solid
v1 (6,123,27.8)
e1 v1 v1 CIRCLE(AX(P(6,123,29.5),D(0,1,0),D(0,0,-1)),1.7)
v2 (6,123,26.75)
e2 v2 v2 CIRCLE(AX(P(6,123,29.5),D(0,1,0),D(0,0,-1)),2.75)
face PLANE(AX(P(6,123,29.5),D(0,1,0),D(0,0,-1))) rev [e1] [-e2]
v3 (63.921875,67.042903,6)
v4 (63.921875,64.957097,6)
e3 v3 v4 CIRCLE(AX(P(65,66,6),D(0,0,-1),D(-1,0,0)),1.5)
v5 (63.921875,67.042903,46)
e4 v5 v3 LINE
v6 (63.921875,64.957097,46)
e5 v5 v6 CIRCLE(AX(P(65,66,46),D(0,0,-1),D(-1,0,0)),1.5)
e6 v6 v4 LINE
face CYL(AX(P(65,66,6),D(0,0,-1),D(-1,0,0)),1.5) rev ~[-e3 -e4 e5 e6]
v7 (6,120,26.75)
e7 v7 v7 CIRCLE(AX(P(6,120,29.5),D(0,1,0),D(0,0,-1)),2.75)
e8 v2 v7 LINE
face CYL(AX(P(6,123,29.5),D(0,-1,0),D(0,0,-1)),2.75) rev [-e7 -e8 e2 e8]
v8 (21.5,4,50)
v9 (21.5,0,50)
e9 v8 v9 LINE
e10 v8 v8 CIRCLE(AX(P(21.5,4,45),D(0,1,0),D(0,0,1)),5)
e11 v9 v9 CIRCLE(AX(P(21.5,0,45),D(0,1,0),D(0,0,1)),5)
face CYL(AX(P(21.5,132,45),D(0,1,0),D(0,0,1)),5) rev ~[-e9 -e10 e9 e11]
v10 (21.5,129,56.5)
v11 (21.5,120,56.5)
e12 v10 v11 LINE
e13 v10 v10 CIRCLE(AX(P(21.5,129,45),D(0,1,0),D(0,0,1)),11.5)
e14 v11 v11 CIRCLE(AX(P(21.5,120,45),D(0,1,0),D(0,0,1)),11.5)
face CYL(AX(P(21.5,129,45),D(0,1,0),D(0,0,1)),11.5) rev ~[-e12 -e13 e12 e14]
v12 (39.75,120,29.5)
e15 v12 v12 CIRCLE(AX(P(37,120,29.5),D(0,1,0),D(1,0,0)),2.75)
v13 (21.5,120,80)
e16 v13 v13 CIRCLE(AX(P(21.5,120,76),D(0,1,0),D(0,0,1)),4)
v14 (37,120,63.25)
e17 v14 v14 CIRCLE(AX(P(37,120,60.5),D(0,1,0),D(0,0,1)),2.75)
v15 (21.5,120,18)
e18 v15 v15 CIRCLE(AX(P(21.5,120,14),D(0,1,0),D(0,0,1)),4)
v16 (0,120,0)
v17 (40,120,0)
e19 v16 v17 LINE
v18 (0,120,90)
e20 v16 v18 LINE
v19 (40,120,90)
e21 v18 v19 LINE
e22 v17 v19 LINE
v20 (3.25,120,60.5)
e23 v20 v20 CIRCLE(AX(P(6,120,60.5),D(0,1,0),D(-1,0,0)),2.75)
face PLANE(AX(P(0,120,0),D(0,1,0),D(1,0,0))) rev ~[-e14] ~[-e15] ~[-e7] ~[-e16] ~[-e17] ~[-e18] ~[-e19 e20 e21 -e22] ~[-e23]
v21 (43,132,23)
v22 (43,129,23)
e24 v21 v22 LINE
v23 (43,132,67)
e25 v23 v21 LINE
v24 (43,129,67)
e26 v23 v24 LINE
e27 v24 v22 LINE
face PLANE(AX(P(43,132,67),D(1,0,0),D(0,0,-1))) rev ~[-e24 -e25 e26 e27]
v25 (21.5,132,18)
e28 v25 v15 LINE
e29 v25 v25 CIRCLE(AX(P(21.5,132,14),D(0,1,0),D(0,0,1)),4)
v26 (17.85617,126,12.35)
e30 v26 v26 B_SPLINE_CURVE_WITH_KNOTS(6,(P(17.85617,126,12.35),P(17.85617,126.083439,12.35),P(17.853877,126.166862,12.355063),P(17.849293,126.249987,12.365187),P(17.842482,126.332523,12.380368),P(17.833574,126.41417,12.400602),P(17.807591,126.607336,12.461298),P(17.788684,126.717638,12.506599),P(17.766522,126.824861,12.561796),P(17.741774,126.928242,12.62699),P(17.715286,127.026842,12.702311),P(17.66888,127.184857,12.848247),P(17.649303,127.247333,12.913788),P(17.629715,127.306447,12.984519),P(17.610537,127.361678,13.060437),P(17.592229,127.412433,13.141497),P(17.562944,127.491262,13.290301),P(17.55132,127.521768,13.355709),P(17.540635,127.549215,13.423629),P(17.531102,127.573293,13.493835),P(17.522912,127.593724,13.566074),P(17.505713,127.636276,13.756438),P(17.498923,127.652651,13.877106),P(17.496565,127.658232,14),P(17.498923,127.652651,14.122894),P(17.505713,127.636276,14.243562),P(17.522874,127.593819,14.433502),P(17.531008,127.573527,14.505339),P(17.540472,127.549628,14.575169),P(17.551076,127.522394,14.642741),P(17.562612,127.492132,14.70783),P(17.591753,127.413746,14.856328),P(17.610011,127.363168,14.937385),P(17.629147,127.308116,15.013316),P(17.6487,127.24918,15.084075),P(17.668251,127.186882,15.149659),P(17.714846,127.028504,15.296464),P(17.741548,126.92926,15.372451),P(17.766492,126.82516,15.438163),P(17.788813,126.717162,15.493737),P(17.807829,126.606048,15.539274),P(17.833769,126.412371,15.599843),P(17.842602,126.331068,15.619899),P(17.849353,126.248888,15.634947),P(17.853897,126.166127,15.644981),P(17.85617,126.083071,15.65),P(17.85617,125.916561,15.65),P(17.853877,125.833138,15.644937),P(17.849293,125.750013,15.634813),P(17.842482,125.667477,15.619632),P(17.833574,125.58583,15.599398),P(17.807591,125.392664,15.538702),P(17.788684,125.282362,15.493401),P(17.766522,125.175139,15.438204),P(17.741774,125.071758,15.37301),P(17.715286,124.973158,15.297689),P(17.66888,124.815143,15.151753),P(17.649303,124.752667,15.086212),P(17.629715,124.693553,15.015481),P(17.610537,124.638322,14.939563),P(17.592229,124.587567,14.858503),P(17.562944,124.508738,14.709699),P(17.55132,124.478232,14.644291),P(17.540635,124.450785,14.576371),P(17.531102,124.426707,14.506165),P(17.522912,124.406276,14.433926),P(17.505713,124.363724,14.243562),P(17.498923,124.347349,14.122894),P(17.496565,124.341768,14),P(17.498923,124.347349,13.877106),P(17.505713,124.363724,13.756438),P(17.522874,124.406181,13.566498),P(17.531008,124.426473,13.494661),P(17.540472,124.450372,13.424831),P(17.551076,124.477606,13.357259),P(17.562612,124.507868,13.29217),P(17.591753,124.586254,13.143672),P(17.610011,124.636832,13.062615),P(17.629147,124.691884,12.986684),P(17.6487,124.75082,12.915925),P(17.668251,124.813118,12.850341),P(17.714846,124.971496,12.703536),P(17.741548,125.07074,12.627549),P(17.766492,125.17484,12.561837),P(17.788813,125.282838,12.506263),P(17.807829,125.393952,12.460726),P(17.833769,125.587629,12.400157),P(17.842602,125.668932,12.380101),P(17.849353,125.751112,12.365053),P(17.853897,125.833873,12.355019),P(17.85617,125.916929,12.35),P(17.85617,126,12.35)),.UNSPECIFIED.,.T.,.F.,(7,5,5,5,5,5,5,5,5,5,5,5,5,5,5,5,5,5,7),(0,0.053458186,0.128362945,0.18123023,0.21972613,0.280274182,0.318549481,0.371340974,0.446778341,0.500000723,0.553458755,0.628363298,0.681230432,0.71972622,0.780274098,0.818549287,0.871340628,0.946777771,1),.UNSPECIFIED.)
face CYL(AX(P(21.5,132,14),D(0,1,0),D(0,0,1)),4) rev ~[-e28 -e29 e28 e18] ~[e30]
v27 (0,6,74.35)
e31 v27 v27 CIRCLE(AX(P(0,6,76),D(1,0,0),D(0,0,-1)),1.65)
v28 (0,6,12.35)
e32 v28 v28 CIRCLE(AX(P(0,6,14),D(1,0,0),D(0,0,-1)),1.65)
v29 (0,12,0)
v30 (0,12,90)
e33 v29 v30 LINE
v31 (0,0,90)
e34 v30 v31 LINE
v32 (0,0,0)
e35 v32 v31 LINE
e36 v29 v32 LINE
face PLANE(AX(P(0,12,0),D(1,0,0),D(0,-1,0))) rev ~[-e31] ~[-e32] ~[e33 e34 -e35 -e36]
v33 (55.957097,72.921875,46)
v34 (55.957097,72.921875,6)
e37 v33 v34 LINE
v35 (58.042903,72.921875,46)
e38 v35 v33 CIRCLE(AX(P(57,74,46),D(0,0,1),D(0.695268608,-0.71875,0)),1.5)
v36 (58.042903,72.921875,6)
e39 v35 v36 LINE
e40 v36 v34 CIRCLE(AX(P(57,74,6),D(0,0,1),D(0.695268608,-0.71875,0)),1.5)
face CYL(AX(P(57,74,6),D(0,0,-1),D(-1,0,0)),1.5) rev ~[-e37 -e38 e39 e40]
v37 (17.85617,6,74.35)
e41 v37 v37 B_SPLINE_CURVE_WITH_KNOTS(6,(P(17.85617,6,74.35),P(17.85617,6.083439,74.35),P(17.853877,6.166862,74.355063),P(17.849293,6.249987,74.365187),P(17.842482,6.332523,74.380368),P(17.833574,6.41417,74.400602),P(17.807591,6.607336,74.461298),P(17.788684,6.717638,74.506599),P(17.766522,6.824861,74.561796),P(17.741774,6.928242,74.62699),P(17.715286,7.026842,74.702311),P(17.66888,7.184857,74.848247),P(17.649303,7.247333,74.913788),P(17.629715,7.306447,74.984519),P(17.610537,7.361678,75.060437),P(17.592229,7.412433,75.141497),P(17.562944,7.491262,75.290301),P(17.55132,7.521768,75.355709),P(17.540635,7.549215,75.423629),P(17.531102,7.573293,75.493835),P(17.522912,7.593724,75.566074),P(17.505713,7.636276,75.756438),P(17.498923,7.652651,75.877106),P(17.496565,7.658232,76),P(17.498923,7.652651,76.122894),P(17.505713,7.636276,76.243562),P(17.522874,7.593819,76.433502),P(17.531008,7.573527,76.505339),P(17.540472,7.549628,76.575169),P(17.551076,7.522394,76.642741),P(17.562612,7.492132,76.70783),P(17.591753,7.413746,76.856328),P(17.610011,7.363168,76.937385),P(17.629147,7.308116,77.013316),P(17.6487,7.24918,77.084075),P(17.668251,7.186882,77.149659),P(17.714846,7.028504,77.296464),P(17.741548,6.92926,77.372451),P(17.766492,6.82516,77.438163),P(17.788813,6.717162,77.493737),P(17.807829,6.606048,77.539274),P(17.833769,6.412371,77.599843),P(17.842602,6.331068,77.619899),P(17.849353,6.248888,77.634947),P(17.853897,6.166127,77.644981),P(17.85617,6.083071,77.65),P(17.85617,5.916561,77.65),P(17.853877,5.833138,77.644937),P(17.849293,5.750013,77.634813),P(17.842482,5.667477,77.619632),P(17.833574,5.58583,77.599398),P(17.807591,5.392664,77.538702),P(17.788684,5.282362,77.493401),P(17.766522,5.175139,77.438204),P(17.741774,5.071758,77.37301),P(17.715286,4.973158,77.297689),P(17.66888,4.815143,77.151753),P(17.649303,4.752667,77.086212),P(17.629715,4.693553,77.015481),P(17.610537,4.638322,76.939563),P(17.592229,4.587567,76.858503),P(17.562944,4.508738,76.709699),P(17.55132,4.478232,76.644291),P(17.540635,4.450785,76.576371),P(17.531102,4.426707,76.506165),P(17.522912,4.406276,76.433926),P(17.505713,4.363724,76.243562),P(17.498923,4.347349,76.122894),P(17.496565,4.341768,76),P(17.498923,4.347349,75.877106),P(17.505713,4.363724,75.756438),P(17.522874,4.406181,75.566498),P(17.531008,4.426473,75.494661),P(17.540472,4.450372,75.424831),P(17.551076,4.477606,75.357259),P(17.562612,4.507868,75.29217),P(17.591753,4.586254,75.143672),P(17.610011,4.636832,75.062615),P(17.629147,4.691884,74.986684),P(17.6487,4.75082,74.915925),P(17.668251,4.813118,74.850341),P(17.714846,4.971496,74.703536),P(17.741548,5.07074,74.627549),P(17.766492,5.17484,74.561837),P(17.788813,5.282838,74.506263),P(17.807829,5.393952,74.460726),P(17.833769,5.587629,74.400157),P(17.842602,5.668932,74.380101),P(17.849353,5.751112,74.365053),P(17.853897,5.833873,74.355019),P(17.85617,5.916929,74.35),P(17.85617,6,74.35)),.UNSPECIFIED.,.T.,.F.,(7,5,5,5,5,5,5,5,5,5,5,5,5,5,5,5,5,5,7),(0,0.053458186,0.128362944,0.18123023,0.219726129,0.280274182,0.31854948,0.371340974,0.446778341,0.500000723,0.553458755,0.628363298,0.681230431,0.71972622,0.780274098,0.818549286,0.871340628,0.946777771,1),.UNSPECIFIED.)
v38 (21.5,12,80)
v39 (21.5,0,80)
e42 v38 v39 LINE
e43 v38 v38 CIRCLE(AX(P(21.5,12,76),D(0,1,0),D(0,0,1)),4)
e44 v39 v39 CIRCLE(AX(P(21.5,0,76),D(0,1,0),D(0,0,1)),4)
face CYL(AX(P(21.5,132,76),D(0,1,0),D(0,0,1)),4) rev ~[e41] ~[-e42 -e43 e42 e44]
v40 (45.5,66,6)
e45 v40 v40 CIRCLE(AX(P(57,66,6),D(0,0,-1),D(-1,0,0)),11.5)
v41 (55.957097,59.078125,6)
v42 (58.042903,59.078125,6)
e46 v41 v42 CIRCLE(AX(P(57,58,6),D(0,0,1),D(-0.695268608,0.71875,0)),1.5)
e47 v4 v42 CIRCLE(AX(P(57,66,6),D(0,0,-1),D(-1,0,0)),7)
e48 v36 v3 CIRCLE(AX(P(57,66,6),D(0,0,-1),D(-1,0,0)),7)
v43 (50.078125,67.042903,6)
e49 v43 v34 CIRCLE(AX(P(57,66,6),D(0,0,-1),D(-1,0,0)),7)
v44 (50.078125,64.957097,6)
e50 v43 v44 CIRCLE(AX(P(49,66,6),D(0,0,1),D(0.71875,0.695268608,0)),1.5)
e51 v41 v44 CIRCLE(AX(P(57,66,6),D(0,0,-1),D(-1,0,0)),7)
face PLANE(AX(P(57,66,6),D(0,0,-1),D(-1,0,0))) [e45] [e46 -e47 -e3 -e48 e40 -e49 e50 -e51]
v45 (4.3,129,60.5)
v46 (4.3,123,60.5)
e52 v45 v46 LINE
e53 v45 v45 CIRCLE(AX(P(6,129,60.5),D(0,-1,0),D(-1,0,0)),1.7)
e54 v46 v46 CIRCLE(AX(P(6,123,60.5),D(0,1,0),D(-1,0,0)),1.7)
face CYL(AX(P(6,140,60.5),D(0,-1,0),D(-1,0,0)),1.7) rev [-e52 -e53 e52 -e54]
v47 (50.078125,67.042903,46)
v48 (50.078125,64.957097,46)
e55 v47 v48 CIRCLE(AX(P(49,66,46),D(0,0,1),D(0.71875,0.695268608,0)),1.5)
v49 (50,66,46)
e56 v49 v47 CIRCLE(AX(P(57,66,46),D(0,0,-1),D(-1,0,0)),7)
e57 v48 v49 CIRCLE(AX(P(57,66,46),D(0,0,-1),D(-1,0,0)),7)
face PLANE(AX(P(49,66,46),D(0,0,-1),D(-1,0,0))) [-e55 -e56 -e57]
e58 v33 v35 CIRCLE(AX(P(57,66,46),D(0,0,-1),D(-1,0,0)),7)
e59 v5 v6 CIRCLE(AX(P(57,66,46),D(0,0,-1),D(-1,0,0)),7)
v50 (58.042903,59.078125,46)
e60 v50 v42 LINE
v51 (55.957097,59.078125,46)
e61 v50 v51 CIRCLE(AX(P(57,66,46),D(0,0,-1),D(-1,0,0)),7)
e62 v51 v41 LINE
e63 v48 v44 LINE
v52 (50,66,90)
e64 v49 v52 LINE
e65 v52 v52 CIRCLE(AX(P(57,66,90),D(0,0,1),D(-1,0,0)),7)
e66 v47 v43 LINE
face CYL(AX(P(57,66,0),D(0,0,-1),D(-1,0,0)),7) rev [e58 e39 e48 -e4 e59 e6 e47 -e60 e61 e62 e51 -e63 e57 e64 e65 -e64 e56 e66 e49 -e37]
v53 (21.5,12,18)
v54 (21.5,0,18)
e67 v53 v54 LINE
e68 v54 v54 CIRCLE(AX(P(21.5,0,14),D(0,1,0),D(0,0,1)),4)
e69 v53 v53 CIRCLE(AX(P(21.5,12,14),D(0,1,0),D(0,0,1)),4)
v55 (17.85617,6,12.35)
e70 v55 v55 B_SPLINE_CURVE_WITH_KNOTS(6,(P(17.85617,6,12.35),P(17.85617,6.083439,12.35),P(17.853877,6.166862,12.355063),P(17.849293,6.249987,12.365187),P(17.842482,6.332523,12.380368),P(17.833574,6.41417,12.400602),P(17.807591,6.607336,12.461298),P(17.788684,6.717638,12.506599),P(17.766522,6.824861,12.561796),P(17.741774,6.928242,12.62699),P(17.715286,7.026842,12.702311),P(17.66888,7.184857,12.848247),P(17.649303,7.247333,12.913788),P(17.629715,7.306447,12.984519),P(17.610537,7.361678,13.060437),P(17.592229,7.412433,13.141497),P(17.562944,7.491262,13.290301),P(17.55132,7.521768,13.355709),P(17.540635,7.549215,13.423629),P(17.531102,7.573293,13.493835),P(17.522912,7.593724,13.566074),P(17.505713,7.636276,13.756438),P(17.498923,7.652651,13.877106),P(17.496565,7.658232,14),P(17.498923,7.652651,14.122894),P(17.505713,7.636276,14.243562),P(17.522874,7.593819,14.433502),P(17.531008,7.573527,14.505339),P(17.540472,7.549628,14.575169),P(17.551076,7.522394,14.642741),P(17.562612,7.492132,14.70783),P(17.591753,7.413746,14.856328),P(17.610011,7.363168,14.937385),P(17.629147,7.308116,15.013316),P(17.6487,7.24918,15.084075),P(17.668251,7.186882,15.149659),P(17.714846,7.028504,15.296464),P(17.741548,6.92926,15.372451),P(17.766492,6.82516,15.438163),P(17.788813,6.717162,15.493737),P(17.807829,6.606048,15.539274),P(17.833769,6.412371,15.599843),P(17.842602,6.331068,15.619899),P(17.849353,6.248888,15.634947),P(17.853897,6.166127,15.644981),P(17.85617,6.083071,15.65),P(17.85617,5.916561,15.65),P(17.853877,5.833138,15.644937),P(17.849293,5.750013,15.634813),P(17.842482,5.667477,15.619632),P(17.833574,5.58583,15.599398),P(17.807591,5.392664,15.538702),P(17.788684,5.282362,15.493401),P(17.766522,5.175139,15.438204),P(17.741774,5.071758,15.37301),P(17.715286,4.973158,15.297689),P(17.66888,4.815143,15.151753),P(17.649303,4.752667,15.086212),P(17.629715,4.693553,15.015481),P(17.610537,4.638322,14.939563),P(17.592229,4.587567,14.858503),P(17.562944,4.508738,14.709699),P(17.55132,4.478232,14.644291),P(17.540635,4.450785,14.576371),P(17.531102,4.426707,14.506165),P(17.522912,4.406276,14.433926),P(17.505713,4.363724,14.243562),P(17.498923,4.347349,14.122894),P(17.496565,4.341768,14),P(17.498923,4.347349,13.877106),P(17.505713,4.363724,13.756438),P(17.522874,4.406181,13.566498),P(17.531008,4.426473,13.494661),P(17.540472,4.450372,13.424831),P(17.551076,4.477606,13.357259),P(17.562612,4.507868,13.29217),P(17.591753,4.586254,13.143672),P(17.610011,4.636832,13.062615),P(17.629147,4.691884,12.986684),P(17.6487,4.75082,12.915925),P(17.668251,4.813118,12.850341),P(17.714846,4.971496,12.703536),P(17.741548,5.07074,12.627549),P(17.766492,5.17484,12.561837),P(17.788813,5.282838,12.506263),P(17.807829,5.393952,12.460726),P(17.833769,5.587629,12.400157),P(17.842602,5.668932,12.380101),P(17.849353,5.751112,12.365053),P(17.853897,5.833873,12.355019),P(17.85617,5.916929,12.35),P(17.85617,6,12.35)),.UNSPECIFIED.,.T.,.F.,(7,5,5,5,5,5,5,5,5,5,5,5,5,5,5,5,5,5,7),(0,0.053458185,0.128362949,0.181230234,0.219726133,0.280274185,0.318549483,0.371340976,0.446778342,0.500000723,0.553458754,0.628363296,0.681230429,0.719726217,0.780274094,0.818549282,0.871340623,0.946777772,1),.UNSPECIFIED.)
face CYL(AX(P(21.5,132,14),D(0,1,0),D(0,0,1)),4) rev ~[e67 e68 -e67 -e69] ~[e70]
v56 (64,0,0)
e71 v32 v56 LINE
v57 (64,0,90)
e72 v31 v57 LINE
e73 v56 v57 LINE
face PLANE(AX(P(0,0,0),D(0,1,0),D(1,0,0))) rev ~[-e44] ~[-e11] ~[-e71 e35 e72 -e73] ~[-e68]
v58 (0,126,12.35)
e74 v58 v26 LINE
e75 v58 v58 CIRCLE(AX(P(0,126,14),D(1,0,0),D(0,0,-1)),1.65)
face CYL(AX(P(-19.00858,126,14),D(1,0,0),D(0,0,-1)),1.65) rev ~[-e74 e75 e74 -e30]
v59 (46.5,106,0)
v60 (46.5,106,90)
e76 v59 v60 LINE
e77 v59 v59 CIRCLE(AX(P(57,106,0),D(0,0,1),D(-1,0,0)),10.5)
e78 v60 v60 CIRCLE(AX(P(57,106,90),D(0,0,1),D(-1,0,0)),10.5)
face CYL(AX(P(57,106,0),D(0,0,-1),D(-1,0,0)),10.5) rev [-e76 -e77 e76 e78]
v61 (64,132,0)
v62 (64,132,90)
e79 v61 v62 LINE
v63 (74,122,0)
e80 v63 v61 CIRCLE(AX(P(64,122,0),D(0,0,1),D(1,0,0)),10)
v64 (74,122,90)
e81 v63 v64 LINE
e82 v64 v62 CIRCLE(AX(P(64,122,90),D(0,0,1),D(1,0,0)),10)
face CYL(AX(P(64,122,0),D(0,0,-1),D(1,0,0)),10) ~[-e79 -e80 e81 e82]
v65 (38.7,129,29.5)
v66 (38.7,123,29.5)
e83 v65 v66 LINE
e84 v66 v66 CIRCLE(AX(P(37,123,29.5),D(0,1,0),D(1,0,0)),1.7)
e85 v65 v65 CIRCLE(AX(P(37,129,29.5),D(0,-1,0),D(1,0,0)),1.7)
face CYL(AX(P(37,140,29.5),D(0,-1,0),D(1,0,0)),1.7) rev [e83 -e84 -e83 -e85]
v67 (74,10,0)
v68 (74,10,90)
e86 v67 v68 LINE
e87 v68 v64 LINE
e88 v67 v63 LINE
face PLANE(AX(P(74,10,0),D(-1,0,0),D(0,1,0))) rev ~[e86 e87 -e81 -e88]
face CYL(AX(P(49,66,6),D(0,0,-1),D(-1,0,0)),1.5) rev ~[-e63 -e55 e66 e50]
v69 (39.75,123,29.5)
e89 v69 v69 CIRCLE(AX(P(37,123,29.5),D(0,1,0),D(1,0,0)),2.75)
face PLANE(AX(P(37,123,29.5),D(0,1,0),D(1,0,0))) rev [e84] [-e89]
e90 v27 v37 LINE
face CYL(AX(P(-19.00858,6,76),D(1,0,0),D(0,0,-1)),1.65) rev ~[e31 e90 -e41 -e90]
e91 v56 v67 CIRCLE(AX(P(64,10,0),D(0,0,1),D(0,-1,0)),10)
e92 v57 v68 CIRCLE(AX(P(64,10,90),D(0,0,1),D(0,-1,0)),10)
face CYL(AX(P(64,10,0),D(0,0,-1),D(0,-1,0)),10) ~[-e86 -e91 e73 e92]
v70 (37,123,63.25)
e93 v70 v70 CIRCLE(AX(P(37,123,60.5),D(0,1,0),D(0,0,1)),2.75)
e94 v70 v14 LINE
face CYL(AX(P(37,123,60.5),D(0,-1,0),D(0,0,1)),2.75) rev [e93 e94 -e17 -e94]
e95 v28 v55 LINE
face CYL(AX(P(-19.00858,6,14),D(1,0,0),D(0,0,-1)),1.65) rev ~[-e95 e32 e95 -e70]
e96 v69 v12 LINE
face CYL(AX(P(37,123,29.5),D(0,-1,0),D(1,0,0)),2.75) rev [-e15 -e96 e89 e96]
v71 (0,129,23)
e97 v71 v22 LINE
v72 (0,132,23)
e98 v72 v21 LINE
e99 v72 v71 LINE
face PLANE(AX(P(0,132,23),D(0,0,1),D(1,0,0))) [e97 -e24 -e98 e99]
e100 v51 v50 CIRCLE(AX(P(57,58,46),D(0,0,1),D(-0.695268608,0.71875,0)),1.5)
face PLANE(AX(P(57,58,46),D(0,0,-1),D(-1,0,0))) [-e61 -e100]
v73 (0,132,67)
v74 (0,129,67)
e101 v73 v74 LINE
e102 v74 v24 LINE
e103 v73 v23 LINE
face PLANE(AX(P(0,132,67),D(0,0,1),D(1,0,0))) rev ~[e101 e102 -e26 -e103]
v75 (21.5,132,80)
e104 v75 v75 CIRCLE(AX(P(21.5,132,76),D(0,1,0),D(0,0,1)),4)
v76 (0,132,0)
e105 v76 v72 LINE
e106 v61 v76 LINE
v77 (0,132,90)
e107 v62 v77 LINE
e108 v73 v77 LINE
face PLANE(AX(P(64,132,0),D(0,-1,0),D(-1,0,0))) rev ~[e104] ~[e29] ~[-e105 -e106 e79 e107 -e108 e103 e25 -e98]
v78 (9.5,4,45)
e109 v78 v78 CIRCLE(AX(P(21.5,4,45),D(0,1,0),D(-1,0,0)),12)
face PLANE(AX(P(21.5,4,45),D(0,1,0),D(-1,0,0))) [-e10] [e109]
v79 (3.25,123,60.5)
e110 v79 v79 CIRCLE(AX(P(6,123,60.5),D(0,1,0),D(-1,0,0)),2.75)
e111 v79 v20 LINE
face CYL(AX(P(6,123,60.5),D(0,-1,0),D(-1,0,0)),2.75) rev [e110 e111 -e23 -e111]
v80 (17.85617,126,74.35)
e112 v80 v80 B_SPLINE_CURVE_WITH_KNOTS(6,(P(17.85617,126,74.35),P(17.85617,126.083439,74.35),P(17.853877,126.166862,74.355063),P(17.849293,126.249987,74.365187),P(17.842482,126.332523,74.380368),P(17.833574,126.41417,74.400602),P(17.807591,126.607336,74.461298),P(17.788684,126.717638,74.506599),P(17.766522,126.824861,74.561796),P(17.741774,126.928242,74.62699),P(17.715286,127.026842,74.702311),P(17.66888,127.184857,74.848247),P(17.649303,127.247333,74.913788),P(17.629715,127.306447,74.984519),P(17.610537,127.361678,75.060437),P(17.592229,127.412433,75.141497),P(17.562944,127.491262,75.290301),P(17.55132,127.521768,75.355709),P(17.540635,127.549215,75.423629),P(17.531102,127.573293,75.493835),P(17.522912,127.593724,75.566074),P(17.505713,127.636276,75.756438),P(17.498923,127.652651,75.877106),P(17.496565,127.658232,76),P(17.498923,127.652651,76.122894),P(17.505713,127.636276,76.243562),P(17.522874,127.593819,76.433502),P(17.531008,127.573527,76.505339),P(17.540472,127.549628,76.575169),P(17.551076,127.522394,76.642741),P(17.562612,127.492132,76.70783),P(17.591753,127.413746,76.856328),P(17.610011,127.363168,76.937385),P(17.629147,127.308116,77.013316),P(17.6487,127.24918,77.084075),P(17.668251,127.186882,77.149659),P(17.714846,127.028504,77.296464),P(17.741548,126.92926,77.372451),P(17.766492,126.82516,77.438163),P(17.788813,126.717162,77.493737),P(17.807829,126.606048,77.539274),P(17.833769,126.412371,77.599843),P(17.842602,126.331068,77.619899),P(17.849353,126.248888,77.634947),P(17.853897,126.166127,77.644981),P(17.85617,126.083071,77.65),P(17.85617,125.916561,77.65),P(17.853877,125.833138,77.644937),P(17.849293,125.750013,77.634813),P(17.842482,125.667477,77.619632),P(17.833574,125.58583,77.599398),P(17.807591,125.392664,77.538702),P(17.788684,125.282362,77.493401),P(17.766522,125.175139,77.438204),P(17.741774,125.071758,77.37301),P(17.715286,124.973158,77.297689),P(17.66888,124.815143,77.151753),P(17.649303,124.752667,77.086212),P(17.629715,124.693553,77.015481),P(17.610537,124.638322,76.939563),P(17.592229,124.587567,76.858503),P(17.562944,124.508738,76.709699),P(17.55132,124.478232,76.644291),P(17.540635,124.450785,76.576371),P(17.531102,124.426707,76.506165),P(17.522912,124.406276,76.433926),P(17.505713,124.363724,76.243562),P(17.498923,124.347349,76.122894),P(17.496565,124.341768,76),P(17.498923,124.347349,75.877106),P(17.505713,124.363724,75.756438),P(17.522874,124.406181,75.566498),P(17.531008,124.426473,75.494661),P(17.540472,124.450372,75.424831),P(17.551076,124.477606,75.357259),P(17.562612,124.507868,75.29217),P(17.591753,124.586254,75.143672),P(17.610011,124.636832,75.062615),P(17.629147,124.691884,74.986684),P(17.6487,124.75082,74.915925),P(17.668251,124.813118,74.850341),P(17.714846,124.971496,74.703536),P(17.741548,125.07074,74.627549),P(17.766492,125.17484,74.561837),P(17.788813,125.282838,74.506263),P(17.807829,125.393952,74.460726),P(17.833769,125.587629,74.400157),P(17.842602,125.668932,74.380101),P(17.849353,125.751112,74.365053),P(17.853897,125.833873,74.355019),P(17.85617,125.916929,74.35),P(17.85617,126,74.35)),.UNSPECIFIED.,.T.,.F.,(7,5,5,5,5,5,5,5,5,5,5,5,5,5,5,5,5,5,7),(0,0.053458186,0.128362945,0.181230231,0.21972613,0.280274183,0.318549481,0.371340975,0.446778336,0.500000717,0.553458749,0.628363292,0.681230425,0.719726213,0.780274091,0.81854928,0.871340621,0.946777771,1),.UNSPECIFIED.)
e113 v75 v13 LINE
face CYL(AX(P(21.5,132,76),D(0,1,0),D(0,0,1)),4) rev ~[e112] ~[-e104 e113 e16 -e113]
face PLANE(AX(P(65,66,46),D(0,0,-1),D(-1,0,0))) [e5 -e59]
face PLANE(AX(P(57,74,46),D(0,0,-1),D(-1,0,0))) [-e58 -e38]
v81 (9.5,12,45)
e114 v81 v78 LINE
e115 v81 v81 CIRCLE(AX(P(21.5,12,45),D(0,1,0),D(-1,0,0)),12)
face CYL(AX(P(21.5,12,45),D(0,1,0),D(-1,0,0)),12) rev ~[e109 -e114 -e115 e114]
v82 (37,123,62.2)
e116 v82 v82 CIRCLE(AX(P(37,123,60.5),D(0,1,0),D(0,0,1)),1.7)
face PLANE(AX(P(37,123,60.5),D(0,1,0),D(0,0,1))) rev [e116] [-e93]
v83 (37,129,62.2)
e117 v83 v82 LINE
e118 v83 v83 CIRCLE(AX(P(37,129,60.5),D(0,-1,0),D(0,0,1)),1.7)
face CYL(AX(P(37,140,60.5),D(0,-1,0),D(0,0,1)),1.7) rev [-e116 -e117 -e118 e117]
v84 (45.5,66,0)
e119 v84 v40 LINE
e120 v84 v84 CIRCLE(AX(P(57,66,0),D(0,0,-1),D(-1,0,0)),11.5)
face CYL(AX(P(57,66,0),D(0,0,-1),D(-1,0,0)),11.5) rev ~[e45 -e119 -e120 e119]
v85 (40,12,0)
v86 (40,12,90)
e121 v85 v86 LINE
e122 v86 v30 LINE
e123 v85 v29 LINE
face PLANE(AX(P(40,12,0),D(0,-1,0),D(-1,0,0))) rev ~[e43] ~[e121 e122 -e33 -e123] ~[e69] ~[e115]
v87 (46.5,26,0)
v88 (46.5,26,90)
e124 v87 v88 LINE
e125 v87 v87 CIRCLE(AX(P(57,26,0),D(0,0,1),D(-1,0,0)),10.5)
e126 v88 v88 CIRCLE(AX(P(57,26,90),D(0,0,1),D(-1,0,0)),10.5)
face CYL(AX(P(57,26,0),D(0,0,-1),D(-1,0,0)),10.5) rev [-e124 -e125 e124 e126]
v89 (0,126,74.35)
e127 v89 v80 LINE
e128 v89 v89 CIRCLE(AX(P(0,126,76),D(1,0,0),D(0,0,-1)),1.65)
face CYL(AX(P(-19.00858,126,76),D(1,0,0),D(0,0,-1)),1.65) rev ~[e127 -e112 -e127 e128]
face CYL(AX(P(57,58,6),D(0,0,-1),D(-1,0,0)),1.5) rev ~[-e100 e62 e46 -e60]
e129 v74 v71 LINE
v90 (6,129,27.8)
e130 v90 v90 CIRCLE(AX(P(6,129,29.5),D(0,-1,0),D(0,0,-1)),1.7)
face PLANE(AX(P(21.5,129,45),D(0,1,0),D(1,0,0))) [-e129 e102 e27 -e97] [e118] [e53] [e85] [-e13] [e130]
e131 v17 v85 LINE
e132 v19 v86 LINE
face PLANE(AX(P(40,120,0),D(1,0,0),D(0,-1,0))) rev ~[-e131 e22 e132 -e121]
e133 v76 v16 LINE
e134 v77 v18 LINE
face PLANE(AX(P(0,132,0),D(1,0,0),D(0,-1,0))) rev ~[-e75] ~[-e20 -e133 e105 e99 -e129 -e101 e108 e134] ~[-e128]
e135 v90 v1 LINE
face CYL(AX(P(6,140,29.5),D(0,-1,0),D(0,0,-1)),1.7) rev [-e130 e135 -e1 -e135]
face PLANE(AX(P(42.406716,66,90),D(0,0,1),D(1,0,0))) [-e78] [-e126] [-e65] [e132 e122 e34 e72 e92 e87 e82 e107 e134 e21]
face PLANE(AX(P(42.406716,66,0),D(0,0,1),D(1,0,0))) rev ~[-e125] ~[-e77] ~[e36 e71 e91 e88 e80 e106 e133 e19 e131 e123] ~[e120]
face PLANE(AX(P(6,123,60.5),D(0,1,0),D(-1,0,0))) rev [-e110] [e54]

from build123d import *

# Parameters (mm, degrees)
SKETCH1_R             = 10.5
SKETCH1_R_2           = 7
BOSS_EXTRUDE1_DEPTH   = 90
SKETCH2_R             = 11.5
CUT_EXTRUDE1_DEPTH    = 6
SKETCH3_R             = 1.5
CUT_EXTRUDE2_DEPTH    = 40
SKETCH4_W             = 43
SKETCH4_H             = 44
CUT_EXTRUDE3_DEPTH    = 3
SKETCH5_R             = 11.5
CUT_EXTRUDE4_DEPTH    = 9
CIRPATTERN1_COUNT     = 4
SKETCH9_R             = 4
SKETCH9_R_2           = 5
CUT_EXTRUDE5_DEPTH    = 177.068168617
SKETCH10_R            = 12
CUT_EXTRUDE6_DEPTH    = 8
M4_TAPPED_HOLE1_D     = 3.3
M4_TAPPED_HOLE1_DEPTH = 19.008579979
M4_TAPPED_HOLE1_TIP   = 0.991420021


with BuildPart() as part:
    # Sketch1 → Boss-Extrude1 (new body)
    with BuildSketch(Plane.XY):
        with BuildLine():
            Line((0, 0), (64, 0))
            ThreePointArc((64, 0), (71.071067812, 2.928932188), (74, 10))
            Line((74, 10), (74, 122))
            ThreePointArc((74, 122), (71.071067812, 129.071067812), (64, 132))
            Line((64, 132), (0, 132))
            Line((0, 132), (0, 120))
            Line((0, 120), (40, 120))
            Line((40, 120), (40, 12))
            Line((40, 12), (0, 12))
            Line((0, 12), (0, 0))
        make_face()
        with Locations(Location((57, 106, 0), (0, 0, 180))):
            Circle(SKETCH1_R, mode=Mode.SUBTRACT)
        with Locations(Location((57, 66, 0), (0, 0, 180))):
            Circle(SKETCH1_R_2, mode=Mode.SUBTRACT)
        with Locations(Location((57, 26, 0), (0, 0, 180))):
            Circle(SKETCH1_R, mode=Mode.SUBTRACT)
    extrude(amount=BOSS_EXTRUDE1_DEPTH)

    # Sketch2 → Cut-Extrude1 (cut)
    with BuildSketch(Plane(origin=(0, 0, 0), x_dir=(-1, 0, 0), z_dir=(0, 0, -1))):
        with Locations((-57, 66)):
            Circle(SKETCH2_R)
    extrude(amount=-CUT_EXTRUDE1_DEPTH, mode=Mode.SUBTRACT)

    # Sketch3 → Cut-Extrude2 (cut)
    with BuildSketch(Plane(origin=(0, 0, 6), x_dir=(-1, 0, 0), z_dir=(0, 0, -1))):
        with Locations((-57, 74)):
            Circle(SKETCH3_R)
        with Locations((-49, 66)):
            Circle(SKETCH3_R)
        with Locations((-57, 58)):
            Circle(SKETCH3_R)
        with Locations((-65, 66)):
            Circle(SKETCH3_R)
    extrude(amount=-CUT_EXTRUDE2_DEPTH, mode=Mode.SUBTRACT)

    # Sketch4 → Cut-Extrude3 (cut)
    with BuildSketch(Plane(origin=(0, 132, 0), x_dir=(1, 0, 0), z_dir=(0, 1, 0))):
        with Locations((21.5, -45)):
            Rectangle(SKETCH4_W, SKETCH4_H)
    extrude(amount=-CUT_EXTRUDE3_DEPTH, mode=Mode.SUBTRACT)

    # Sketch5 → Cut-Extrude4 (cut)
    with BuildSketch(Plane(origin=(0, 129, 0), x_dir=(1, 0, 0), z_dir=(0, 1, 0))):
        with Locations(Location((21.5, -45, 0), (0, 0, 270))):
            Circle(SKETCH5_R)
    extrude(amount=-CUT_EXTRUDE4_DEPTH, mode=Mode.SUBTRACT)

    # Sketch7 → CBORE for M3 Pan Head Screw1 (revolve, cut)
    with BuildSketch(Plane(origin=(6, 120, 29.5), x_dir=(0, 0, -1), z_dir=(1, 0, 0))):
        Polygon((0, 0), (0, 21.021463052), (1.7, 20), (1.7, 3), (2.75, 3), (2.75, 0), align=None)
    cbore_for_m3_pan_head_screw1 = revolve(axis=Axis((6, 113.65, 29.5), (0, 1, 0)), mode=Mode.SUBTRACT)

    # CirPattern1: CBORE for M3 Pan Head Screw1 ×4 about axis
    cirpattern1_axis = Axis((21.5, 0, 45), (0, 1, 0))
    for i in range(1, CIRPATTERN1_COUNT):
        add(cbore_for_m3_pan_head_screw1.rotate(cirpattern1_axis, i * 360 / CIRPATTERN1_COUNT), mode=Mode.SUBTRACT)

    # Sketch9 → Cut-Extrude5 (cut, through all)
    with BuildSketch(Plane(origin=(0, 132, 0), x_dir=(1, 0, 0), z_dir=(0, 1, 0))):
        with Locations(Location((21.5, -14, 0), (0, 0, 270))):
            Circle(SKETCH9_R)
        with Locations(Location((21.5, -76, 0), (0, 0, 270))):
            Circle(SKETCH9_R)
        with Locations(Location((21.5, -45, 0), (0, 0, 270))):
            Circle(SKETCH9_R_2)
    extrude(amount=-CUT_EXTRUDE5_DEPTH, mode=Mode.SUBTRACT)

    # Sketch10 → Cut-Extrude6 (cut)
    with BuildSketch(Plane(origin=(0, 12, 0), x_dir=(1, 0, 0), z_dir=(0, 1, 0))):
        with Locations(Location((21.5, -45, 0), (0, 0, 180))):
            Circle(SKETCH10_R)
    extrude(amount=-CUT_EXTRUDE6_DEPTH, mode=Mode.SUBTRACT)

    # M4 Tapped Hole1
    with Locations(Plane.ZY):
        with Locations((14, 126), (76, 126), (76, 6), (14, 6)):
            Hole(M4_TAPPED_HOLE1_D / 2, depth=M4_TAPPED_HOLE1_DEPTH)
            with Locations((0, 0, -(M4_TAPPED_HOLE1_DEPTH + M4_TAPPED_HOLE1_TIP / 2))):  # 118° drill point
                Cone(0, M4_TAPPED_HOLE1_D / 2, M4_TAPPED_HOLE1_TIP, mode=Mode.SUBTRACT)


solid = part.part
